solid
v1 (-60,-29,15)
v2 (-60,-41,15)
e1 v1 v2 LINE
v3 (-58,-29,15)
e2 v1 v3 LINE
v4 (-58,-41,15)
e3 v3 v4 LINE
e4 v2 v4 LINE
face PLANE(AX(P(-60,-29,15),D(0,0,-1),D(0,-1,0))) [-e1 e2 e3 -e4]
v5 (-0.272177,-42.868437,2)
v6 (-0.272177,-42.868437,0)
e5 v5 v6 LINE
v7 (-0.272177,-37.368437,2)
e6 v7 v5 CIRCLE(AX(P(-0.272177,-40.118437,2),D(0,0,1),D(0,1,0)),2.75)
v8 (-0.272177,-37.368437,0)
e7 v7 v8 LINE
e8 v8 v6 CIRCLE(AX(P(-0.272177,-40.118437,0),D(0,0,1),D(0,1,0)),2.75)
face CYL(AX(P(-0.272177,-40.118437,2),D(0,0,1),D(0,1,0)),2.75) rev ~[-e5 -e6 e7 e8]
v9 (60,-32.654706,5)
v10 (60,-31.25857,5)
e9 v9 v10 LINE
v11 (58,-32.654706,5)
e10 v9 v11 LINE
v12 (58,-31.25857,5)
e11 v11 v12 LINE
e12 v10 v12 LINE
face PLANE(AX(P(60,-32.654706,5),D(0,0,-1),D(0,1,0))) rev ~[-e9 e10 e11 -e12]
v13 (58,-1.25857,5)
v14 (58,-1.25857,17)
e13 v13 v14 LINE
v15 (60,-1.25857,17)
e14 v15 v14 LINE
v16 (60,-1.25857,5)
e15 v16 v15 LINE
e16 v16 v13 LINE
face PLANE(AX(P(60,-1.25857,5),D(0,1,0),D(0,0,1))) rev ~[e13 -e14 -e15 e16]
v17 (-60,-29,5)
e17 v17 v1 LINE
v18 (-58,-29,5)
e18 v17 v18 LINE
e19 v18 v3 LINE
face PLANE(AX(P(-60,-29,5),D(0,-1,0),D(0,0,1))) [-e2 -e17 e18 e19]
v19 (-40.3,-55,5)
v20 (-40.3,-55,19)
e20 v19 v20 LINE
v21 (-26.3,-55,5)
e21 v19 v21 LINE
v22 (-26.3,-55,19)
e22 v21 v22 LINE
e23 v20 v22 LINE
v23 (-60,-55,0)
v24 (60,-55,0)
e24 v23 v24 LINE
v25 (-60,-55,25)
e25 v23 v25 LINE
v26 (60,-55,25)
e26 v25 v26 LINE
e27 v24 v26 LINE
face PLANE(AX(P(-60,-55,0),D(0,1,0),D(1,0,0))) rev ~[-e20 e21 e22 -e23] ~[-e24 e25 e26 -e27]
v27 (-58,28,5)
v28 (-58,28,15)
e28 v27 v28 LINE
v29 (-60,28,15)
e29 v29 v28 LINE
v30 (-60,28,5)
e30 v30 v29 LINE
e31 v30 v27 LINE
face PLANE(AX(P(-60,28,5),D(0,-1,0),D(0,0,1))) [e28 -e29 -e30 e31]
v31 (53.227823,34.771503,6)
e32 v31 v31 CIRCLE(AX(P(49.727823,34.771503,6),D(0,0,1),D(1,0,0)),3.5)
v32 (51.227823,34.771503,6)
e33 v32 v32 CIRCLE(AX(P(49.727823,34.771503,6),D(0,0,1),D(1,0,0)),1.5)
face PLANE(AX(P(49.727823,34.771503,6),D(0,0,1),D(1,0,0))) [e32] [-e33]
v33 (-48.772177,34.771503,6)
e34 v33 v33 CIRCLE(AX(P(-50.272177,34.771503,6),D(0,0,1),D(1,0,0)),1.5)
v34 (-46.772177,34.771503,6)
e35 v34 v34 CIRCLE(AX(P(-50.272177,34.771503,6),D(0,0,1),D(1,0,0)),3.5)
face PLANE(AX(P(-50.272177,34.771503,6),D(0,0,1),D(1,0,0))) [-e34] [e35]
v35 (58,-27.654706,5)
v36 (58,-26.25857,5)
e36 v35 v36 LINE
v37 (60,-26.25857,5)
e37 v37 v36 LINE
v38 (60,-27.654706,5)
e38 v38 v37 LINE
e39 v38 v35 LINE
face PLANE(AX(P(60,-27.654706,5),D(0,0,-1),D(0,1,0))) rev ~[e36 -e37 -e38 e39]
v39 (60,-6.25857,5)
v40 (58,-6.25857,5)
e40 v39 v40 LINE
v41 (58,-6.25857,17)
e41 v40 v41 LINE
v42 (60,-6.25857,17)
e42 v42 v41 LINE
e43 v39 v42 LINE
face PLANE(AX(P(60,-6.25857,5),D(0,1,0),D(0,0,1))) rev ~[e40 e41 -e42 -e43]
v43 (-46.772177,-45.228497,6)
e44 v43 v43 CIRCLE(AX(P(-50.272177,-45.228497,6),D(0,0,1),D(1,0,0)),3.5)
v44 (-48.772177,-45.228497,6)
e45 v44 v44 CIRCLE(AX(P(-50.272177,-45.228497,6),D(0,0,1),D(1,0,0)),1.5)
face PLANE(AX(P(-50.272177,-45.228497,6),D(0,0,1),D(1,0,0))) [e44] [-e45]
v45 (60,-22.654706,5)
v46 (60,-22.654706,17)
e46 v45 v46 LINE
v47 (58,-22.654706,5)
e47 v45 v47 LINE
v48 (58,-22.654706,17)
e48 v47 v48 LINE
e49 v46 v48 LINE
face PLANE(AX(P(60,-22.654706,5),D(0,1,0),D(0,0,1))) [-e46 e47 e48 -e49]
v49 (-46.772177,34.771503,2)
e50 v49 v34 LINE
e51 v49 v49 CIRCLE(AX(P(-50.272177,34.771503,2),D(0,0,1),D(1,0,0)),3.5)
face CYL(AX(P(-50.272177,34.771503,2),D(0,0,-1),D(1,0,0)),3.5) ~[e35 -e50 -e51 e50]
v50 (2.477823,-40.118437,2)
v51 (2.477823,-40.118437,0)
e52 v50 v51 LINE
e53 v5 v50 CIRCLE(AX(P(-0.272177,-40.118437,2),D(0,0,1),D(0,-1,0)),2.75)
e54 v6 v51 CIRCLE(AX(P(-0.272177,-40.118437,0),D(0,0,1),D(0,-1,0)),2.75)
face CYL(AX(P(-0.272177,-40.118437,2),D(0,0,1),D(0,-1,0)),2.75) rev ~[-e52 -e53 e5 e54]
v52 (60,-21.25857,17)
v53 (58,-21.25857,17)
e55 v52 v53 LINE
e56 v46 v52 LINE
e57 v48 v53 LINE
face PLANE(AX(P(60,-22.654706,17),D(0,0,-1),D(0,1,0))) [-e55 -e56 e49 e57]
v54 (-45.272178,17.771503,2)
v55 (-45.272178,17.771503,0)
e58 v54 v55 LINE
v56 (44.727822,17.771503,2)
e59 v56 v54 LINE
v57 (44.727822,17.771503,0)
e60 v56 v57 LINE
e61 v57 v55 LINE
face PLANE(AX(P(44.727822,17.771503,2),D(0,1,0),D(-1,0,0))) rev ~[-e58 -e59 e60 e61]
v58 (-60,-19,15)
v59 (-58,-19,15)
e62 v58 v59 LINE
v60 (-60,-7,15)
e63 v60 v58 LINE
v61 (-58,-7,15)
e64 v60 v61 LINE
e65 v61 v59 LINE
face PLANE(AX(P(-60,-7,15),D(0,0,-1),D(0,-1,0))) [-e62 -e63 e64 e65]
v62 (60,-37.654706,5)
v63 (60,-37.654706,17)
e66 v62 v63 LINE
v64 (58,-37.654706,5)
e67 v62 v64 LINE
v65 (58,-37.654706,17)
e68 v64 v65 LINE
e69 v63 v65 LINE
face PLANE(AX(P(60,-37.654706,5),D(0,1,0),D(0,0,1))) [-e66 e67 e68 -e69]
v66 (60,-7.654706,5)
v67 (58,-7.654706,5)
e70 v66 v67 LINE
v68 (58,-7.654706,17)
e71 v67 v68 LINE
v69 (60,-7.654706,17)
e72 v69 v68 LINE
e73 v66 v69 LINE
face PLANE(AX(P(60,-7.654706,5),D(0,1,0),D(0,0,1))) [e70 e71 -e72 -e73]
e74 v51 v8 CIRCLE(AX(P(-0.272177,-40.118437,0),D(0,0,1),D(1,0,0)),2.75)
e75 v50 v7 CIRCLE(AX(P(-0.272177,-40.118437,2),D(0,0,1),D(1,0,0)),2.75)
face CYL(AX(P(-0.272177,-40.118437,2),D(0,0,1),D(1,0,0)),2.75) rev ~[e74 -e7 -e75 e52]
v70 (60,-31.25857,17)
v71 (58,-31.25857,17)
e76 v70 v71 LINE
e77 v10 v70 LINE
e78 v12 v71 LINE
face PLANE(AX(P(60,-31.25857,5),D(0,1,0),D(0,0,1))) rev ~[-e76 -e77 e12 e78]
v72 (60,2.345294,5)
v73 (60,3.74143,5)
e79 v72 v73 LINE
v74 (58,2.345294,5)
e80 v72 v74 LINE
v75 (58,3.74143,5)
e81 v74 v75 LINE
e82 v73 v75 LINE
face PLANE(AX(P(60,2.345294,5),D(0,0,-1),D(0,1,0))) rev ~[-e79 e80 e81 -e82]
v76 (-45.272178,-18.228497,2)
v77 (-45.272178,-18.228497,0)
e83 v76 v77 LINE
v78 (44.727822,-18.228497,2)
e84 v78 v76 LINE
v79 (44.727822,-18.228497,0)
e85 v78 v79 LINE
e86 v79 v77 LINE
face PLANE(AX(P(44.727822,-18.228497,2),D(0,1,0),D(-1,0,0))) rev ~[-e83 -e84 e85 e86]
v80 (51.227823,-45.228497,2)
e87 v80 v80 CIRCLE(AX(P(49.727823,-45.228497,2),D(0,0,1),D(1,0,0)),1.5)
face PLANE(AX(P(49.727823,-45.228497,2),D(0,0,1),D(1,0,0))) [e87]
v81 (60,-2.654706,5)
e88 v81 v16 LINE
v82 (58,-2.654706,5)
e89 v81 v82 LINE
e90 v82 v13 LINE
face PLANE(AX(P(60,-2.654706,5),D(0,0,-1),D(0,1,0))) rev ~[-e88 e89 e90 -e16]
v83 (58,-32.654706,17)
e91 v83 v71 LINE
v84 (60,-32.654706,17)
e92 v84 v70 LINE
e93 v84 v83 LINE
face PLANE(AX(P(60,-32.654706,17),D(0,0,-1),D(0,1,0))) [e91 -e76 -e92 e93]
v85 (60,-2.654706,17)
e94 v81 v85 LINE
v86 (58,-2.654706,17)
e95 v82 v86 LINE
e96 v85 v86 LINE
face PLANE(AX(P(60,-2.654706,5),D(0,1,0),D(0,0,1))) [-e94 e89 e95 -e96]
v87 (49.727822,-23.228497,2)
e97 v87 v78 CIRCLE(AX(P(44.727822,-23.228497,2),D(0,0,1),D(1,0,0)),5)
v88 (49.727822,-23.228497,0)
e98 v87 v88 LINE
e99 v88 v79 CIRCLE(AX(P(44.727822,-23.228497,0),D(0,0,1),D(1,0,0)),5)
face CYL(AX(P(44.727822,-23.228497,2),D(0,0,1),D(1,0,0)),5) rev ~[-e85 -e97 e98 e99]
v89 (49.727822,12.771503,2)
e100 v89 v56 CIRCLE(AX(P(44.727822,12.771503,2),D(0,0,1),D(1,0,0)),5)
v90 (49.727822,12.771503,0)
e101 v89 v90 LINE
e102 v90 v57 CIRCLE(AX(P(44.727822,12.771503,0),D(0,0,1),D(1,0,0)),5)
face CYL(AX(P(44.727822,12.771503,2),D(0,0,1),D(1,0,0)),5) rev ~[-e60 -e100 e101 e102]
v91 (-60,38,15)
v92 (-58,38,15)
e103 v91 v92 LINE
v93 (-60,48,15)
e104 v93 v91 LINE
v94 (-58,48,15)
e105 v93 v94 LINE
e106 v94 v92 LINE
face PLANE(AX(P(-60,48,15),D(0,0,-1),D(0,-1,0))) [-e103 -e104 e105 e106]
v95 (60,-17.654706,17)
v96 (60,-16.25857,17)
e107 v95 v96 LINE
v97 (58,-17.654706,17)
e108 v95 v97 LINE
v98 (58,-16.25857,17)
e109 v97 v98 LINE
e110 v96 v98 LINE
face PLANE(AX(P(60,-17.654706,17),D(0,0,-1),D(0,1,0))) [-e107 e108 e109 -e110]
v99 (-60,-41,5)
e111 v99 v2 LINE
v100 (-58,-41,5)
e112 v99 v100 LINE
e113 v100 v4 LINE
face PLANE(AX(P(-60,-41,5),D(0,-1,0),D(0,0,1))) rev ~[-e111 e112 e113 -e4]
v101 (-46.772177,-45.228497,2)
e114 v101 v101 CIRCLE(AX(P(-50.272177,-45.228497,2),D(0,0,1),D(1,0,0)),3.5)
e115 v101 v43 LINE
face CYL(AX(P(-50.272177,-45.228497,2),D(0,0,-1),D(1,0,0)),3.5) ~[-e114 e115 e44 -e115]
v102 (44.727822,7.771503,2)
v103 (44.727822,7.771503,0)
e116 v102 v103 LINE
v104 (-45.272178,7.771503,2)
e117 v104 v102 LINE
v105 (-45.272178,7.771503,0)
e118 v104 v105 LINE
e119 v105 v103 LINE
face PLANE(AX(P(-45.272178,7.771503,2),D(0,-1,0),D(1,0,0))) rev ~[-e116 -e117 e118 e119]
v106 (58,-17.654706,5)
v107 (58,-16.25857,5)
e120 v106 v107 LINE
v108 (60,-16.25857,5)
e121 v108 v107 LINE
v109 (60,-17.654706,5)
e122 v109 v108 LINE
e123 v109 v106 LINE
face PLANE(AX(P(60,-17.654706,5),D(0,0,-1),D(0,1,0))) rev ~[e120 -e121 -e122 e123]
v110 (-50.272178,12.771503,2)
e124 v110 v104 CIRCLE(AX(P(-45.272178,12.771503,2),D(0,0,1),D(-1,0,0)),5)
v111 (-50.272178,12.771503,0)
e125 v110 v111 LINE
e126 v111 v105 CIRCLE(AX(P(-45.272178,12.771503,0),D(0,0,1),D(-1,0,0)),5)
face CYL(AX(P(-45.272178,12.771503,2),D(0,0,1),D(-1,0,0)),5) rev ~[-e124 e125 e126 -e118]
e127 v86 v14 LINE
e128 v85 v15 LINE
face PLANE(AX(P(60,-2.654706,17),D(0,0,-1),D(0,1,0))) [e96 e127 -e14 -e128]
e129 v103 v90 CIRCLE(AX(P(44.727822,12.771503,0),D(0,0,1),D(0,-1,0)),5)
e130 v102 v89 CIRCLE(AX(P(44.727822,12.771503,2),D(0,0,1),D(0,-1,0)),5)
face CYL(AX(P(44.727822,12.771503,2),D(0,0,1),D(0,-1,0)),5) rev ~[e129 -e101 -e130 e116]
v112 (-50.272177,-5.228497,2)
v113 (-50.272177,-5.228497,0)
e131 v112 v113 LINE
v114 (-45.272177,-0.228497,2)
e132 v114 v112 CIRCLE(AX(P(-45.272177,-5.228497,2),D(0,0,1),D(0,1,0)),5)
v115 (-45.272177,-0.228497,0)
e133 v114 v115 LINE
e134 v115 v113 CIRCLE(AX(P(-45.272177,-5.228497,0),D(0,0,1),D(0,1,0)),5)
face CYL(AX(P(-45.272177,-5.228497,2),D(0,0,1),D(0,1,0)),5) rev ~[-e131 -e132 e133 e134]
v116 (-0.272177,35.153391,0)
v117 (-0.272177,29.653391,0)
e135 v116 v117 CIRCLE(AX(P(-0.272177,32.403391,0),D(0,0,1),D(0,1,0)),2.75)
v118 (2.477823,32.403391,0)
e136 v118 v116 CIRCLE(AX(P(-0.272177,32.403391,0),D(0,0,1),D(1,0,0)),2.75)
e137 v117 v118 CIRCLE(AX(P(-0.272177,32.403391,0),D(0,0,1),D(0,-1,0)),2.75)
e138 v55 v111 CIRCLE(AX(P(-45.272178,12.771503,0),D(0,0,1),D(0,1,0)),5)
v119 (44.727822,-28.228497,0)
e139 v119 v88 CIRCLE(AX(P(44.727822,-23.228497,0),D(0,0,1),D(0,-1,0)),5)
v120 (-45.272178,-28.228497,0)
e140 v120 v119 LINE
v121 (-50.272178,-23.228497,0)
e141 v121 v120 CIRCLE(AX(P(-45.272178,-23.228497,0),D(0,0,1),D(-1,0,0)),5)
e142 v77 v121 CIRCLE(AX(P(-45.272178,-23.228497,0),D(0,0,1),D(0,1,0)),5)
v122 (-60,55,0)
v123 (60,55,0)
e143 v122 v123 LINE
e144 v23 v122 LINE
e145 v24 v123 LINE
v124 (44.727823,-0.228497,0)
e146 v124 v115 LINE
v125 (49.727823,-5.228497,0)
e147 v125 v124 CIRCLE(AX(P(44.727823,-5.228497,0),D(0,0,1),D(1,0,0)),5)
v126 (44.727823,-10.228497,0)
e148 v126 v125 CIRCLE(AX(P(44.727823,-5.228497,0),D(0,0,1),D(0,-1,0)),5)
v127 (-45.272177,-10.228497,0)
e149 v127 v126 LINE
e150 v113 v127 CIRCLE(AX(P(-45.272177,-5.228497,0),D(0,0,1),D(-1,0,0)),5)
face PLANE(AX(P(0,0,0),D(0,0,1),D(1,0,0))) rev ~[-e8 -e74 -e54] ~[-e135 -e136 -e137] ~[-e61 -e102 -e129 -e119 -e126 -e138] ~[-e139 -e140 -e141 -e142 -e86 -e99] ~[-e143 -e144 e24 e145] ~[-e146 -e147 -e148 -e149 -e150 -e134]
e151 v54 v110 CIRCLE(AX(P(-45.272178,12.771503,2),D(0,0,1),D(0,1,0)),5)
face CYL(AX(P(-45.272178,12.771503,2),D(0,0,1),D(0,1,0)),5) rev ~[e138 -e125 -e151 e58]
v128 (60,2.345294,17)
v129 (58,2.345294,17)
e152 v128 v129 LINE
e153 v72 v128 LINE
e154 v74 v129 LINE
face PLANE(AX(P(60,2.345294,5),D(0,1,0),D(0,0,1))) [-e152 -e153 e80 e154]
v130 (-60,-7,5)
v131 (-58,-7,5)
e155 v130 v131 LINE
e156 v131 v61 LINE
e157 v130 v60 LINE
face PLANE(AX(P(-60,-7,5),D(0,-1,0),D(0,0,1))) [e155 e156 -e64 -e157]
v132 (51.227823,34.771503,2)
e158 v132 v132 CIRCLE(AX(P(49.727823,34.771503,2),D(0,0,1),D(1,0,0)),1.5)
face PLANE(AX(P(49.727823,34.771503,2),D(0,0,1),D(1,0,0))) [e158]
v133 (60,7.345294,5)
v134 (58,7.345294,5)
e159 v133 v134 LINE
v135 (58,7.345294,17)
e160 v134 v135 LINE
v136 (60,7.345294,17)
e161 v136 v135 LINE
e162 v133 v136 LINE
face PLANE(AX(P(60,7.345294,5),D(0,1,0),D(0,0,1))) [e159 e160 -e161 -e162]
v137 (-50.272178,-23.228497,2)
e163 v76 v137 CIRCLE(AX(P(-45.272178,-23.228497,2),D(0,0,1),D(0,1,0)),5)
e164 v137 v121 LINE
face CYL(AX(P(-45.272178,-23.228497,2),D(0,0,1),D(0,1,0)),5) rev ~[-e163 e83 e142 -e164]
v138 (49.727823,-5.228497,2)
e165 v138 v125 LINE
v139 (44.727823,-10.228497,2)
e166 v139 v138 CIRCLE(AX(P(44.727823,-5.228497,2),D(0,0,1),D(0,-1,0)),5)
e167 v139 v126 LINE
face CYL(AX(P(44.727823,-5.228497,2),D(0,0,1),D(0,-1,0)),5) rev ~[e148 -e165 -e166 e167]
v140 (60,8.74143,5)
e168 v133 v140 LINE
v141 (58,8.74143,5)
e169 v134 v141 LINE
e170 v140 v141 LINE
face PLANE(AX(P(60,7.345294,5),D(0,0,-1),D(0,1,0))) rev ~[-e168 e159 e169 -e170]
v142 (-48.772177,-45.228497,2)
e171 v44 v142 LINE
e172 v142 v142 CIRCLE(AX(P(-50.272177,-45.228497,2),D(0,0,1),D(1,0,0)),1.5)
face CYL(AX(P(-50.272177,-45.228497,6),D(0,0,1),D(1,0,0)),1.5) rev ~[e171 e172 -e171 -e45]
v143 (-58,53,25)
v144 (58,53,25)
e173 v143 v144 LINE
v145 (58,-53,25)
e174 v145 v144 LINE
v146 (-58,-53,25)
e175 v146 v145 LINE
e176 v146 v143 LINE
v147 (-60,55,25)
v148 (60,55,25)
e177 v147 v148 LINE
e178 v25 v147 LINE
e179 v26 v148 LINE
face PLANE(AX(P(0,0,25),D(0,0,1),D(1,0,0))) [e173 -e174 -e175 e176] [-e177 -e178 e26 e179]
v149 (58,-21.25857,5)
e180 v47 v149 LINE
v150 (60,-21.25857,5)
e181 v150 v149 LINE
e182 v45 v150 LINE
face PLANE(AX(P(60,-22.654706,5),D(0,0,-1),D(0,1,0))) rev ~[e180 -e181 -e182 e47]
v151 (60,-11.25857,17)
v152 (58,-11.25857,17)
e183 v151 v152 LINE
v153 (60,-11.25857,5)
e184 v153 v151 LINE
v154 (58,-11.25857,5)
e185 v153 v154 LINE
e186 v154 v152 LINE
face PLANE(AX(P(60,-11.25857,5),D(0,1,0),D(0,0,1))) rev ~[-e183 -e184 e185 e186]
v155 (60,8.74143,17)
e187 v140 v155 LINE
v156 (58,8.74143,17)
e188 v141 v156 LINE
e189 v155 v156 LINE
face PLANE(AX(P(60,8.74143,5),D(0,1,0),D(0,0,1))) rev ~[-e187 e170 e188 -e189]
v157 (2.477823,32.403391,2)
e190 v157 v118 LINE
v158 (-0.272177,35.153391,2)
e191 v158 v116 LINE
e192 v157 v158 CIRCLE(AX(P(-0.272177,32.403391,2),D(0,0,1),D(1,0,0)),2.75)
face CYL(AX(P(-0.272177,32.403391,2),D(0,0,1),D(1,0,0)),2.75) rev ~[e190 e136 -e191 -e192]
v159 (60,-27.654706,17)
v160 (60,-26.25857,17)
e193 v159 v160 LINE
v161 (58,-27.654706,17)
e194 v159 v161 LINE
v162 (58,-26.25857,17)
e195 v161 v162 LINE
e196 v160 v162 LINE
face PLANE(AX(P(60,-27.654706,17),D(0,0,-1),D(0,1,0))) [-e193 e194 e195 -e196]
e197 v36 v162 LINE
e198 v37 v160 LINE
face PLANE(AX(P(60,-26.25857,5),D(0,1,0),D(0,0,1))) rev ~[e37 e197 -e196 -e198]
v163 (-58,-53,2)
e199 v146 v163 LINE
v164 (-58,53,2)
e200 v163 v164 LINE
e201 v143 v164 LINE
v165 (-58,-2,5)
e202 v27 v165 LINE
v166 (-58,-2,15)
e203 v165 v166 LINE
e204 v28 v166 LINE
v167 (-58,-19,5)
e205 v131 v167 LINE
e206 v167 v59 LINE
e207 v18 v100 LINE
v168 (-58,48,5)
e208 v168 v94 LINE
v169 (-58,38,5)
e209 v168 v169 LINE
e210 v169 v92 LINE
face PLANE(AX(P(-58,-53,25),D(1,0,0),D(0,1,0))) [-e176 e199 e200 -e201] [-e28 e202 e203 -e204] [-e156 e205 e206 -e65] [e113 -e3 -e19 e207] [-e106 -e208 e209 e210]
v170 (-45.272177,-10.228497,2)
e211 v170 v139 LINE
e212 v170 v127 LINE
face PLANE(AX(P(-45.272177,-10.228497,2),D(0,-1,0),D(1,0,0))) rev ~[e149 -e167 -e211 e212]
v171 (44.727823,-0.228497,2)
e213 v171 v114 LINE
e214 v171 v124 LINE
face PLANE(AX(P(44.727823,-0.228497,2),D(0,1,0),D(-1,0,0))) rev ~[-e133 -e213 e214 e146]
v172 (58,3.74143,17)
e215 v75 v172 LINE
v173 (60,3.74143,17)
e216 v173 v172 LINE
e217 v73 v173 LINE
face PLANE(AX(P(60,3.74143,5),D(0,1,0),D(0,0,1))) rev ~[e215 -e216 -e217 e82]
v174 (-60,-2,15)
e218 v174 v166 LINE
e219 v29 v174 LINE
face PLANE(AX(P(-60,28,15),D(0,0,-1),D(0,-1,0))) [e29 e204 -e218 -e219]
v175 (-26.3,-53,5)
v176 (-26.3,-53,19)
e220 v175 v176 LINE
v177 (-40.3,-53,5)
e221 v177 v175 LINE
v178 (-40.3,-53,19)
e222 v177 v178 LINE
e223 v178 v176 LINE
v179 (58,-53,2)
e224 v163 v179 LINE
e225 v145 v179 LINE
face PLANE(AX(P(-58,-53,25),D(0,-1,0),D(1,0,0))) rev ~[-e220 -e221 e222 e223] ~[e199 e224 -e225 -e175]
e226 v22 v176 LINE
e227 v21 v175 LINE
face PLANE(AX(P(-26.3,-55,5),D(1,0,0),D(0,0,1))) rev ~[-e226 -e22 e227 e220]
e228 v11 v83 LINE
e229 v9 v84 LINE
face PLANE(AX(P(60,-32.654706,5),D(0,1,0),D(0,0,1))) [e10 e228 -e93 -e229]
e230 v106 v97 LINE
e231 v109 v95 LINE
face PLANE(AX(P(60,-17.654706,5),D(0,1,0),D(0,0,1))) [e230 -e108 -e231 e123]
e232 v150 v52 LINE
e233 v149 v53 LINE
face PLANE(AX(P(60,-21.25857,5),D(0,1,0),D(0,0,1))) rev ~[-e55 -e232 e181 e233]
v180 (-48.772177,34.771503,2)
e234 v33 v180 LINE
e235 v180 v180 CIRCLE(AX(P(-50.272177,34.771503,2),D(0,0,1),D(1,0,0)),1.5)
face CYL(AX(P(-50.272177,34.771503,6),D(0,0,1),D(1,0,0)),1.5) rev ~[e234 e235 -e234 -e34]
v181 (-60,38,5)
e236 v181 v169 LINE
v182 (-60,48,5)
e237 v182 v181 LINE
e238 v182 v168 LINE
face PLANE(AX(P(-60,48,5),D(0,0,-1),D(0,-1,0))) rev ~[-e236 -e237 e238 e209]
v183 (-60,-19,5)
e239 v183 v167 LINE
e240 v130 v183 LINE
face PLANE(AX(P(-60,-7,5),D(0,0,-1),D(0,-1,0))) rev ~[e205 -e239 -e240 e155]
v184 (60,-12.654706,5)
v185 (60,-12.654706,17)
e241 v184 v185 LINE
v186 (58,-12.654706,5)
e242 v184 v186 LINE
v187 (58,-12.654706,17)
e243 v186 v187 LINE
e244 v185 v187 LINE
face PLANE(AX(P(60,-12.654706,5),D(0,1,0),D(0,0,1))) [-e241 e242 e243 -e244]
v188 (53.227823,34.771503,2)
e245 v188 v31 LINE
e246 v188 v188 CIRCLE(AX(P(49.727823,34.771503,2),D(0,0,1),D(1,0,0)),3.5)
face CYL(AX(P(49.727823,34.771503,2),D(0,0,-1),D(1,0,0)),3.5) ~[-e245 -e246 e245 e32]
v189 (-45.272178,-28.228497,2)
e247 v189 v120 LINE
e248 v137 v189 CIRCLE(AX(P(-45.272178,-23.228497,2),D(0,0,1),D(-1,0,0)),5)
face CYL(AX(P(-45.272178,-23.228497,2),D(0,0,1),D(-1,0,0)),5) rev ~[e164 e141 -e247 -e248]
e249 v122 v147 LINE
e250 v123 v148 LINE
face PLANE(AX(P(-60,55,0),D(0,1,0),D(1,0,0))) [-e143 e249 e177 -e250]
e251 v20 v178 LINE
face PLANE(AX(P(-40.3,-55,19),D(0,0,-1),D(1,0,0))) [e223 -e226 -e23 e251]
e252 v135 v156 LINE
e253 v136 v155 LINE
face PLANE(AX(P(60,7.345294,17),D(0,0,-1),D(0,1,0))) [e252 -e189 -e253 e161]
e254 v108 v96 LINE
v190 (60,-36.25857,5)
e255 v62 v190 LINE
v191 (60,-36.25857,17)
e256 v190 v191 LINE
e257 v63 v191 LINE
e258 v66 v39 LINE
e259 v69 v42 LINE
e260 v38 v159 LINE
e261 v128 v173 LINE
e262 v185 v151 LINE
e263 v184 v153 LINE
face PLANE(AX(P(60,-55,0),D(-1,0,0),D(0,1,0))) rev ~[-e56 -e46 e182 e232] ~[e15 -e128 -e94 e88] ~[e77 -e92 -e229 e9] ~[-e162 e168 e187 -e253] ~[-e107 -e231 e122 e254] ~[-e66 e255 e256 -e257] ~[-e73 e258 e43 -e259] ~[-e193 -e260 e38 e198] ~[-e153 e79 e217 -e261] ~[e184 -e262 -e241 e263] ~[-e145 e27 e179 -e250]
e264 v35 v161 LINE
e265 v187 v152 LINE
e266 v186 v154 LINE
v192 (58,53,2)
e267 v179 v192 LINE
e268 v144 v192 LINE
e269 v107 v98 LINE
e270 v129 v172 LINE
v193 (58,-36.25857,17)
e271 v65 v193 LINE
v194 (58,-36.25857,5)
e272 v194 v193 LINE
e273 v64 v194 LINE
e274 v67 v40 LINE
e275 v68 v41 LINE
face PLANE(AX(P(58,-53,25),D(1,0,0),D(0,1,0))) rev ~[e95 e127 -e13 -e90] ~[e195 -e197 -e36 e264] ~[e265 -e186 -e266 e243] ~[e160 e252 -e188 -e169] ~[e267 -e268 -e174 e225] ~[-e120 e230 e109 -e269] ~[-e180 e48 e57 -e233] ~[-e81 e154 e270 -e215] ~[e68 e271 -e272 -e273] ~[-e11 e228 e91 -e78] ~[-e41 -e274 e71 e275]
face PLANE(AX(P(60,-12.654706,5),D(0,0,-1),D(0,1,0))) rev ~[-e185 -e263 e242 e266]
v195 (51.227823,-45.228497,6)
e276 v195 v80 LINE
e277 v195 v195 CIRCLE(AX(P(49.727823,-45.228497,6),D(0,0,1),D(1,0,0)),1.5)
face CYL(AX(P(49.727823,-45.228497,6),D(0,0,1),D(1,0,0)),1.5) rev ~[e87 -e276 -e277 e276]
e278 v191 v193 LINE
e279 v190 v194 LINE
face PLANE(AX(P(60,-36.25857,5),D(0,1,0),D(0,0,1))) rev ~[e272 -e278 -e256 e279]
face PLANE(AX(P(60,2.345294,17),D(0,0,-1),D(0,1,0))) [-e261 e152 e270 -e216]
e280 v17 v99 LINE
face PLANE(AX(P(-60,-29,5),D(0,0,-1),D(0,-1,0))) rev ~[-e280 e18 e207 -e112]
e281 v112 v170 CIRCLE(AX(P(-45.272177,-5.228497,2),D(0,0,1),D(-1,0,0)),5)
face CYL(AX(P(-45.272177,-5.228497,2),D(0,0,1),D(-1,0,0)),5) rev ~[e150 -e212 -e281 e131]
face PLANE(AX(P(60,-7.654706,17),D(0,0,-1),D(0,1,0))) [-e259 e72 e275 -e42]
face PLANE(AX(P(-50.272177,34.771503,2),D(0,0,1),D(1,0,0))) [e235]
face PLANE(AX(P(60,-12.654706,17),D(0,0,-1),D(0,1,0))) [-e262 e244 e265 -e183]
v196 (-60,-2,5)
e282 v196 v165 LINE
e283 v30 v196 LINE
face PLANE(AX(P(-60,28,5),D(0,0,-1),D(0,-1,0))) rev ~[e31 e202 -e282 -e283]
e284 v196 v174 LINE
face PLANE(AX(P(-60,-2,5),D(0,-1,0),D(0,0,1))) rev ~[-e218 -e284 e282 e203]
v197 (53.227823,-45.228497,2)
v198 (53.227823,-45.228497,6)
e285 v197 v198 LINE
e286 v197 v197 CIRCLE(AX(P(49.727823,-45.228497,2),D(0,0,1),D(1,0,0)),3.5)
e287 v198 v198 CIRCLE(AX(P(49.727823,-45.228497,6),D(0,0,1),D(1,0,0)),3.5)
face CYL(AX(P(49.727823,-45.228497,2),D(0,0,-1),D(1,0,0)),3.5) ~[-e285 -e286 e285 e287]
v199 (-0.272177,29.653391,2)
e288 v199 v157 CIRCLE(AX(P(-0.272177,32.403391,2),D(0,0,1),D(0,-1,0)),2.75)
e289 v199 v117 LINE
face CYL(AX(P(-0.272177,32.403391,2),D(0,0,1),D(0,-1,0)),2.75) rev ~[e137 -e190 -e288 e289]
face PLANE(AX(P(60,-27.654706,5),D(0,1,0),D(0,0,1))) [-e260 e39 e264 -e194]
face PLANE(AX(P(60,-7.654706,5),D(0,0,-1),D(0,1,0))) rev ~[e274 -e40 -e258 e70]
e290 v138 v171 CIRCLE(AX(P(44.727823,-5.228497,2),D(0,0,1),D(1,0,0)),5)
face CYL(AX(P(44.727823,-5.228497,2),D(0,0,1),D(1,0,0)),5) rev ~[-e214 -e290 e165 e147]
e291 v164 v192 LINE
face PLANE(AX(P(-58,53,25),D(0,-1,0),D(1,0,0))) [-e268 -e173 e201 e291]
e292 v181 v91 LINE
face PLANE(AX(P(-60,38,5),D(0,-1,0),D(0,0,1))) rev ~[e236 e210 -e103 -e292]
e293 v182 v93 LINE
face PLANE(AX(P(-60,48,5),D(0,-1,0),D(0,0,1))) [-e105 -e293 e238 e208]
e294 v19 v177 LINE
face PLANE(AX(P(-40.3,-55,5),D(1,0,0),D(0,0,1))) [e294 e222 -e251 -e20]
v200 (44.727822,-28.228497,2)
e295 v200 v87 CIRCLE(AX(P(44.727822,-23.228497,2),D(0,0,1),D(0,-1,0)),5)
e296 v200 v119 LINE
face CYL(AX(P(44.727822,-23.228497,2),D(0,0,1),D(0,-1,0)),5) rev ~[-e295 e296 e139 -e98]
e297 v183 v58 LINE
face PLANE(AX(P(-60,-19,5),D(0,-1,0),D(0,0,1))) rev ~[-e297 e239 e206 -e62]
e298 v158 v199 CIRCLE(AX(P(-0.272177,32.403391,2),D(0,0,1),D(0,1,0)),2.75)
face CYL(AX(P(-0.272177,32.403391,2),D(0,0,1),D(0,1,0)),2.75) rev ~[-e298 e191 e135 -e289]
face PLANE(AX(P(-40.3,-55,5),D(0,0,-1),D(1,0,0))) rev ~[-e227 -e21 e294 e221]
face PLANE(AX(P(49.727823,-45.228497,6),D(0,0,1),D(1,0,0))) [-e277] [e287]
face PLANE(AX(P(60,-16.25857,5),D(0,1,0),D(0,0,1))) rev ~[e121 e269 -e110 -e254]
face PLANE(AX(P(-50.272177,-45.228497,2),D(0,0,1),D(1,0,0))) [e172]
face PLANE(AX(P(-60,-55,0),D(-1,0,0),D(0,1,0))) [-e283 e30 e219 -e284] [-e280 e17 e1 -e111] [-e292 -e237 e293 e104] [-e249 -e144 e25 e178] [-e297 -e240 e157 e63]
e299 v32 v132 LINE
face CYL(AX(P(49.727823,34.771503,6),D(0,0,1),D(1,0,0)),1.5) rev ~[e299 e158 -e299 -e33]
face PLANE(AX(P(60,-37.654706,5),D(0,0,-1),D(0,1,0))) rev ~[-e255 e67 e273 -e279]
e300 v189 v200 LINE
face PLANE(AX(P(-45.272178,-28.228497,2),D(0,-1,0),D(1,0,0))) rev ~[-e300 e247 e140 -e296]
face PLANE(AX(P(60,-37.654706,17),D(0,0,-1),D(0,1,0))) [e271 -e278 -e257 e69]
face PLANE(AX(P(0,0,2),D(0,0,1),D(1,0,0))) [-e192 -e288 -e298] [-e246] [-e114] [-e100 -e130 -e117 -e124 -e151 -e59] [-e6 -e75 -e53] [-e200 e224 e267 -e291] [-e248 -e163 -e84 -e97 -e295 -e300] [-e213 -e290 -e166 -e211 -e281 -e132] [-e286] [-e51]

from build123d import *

# Parameters (mm, degrees)
F0_W      = 120
F0_H      = 110
F1_DEPTH  = 25
F2_W      = 116
F2_H      = 106
F3_DEPTH  = 23
F4_R      = 3.5
F5_DEPTH  = 4
F6_R      = 1.5
F7_DEPTH  = 4
F8_R      = 1.5
F9_DEPTH  = 4
F10_R     = 1.5
F11_DEPTH = 4
F12_R     = 1.5
F13_DEPTH = 4
F14_W     = 14
F14_H     = 14
F15_DEPTH = 5
F16_W     = 12
F16_H     = 10
F16_W_2   = 30
F16_W_3   = 10
F17_DEPTH = 2
F18_DEPTH = 25
F19_DEPTH = 25
F20_DEPTH = 25
F21_DEPTH = 25
F22_W     = 1.3961357757
F22_H     = 12
F23_DEPTH = 25


with BuildPart() as f1:
    # F0 (on Top) → F1 (new body)
    with BuildSketch(Plane.XY):
        Rectangle(F0_W, F0_H)
    extrude(amount=F1_DEPTH)

    # F2 (on face) → F3 (cut)
    with BuildSketch(Plane.XY.offset(25)):
        Rectangle(F2_W, F2_H)
    extrude(amount=-F3_DEPTH, mode=Mode.SUBTRACT)

    # F4 (on face) → F5 (join)
    with BuildSketch(Plane.XY.offset(2)):
        with Locations((-50.2721771598, 34.7715031275)):
            Circle(F4_R)
        with Locations((49.7278228402, 34.7715031275)):
            Circle(F4_R)
        with Locations((49.7278228402, -45.2284968725)):
            Circle(F4_R)
        with Locations((-50.2721771598, -45.2284968725)):
            Circle(F4_R)
    extrude(amount=F5_DEPTH)

    # F6 (on face) → F7 (cut)
    with BuildSketch(Plane.XY.offset(6)):
        with Locations((-50.2721771598, 34.7715031275)):
            Circle(F6_R)
    extrude(amount=-F7_DEPTH, mode=Mode.SUBTRACT)

    # F8 (on face) → F9 (cut)
    with BuildSketch(Plane.XY.offset(6)):
        with Locations((49.7278228402, 34.7715031275)):
            Circle(F8_R)
    extrude(amount=-F9_DEPTH, mode=Mode.SUBTRACT)

    # F10 (on face) → F11 (cut)
    with BuildSketch(Plane.XY.offset(6)):
        with Locations((49.7278228402, -45.2284968725)):
            Circle(F10_R)
    extrude(amount=-F11_DEPTH, mode=Mode.SUBTRACT)

    # F12 (on face) → F13 (cut)
    with BuildSketch(Plane.XY.offset(6)):
        with Locations((-50.2721771598, -45.2284968725)):
            Circle(F12_R)
    extrude(amount=-F13_DEPTH, mode=Mode.SUBTRACT)

    # F14 (on face) → F15 (cut)
    with BuildSketch(Plane.XZ.offset(55)):
        with Locations((-33.3, 12)):
            Rectangle(F14_W, F14_H)
    extrude(amount=-F15_DEPTH, mode=Mode.SUBTRACT)

    # F16 (on face) → F17 (cut)
    with BuildSketch(Plane(origin=(-60, 0, 0), x_dir=(0, -1, 0), z_dir=(-1, 0, 0))):
        with Locations((35, 10)):
            Rectangle(F16_W, F16_H)
        with Locations((13, 10)):
            Rectangle(F16_W, F16_H)
        with Locations((-13, 10)):
            Rectangle(F16_W_2, F16_H)
        with Locations((-43, 10)):
            Rectangle(F16_W_3, F16_H)
    extrude(amount=-F17_DEPTH, mode=Mode.SUBTRACT)

    # F4 (on face) → F18 (cut)
    with BuildSketch(Plane.XY.offset(2)):
        with BuildLine():
            Line((-45.2721779048, 7.7715031275), (-0.2721771598, 7.7715031275))
            Line((-0.2721771598, 7.7715031275), (-0.2721771598, 17.7715031275))
            Line((-0.2721771598, 17.7715031275), (-45.2721779048, 17.7715031275))
            ThreePointArc((-45.2721779048, 17.7715031275), (-48.8077118108, 16.3070370335), (-50.2721779048, 12.7715031275))
            ThreePointArc((-50.2721779048, 12.7715031275), (-48.8077118108, 9.2359692216), (-45.2721779048, 7.7715031275))
        make_face()
        with BuildLine():
            Line((-0.2721771598, 17.7715031275), (-0.2721771598, 7.7715031275))
            Line((-0.2721771598, 7.7715031275), (44.7278220952, 7.7715031275))
            ThreePointArc((44.7278220952, 7.7715031275), (48.2633560011, 9.2359692216), (49.7278220952, 12.7715031275))
            ThreePointArc((49.7278220952, 12.7715031275), (48.2633560011, 16.3070370335), (44.7278220952, 17.7715031275))
            Line((44.7278220952, 17.7715031275), (-0.2721771598, 17.7715031275))
        make_face()
    extrude(amount=-F18_DEPTH, mode=Mode.SUBTRACT)

    # F4 (on face) → F19 (cut)
    with BuildSketch(Plane.XY.offset(2)):
        with BuildLine():
            Line((-0.2721771598, -18.2284968725), (-0.2721771598, -28.2284968725))
            Line((-0.2721771598, -28.2284968725), (44.7278220952, -28.2284968725))
            ThreePointArc((44.7278220952, -28.2284968725), (48.2633560011, -26.7640307784), (49.7278220952, -23.2284968725))
            ThreePointArc((49.7278220952, -23.2284968725), (48.2633560011, -19.6929629665), (44.7278220952, -18.2284968725))
            Line((44.7278220952, -18.2284968725), (-0.2721771598, -18.2284968725))
        make_face()
        with BuildLine():
            Line((49.7278228402, -5.2284968725), (-0.2721771598, -5.2284968725))
            Line((-0.2721771598, -5.2284968725), (-0.2721771598, -10.2284968725))
            Line((-0.2721771598, -10.2284968725), (44.7278228402, -10.2284968725))
            ThreePointArc((44.7278228402, -10.2284968725), (48.2633567461, -8.7640307784), (49.7278228402, -5.2284968725))
        make_face()
        with BuildLine():
            ThreePointArc((-45.2721771598, -0.2284968725), (-48.8077110657, -1.6929629665), (-50.2721771598, -5.2284968725))
            Line((-50.2721771598, -5.2284968725), (-0.2721771598, -5.2284968725))
            Line((-0.2721771598, -5.2284968725), (-0.2721771598, -0.2284968725))
            Line((-0.2721771598, -0.2284968725), (-45.2721771598, -0.2284968725))
        make_face()
        with BuildLine():
            Line((-0.2721771598, -5.2284968725), (-50.2721771598, -5.2284968725))
            ThreePointArc((-50.2721771598, -5.2284968725), (-48.8077110657, -8.7640307784), (-45.2721771598, -10.2284968725))
            Line((-45.2721771598, -10.2284968725), (-0.2721771598, -10.2284968725))
            Line((-0.2721771598, -10.2284968725), (-0.2721771598, -5.2284968725))
        make_face()
        with BuildLine():
            Line((-45.2721779048, -28.2284968725), (-0.2721771598, -28.2284968725))
            Line((-0.2721771598, -28.2284968725), (-0.2721771598, -18.2284968725))
            Line((-0.2721771598, -18.2284968725), (-45.2721779048, -18.2284968725))
            ThreePointArc((-45.2721779048, -18.2284968725), (-48.8077118108, -19.6929629665), (-50.2721779048, -23.2284968725))
            ThreePointArc((-50.2721779048, -23.2284968725), (-48.8077118108, -26.7640307784), (-45.2721779048, -28.2284968725))
        make_face()
        with BuildLine():
            Line((-0.2721771598, -0.2284968725), (-0.2721771598, -5.2284968725))
            Line((-0.2721771598, -5.2284968725), (49.7278228402, -5.2284968725))
            ThreePointArc((49.7278228402, -5.2284968725), (48.2633567461, -1.6929629665), (44.7278228402, -0.2284968725))
            Line((44.7278228402, -0.2284968725), (-0.2721771598, -0.2284968725))
        make_face()
    extrude(amount=-F19_DEPTH, mode=Mode.SUBTRACT)

    # F4 (on face) → F20 (cut)
    with BuildSketch(Plane.XY.offset(2)):
        with BuildLine():
            ThreePointArc((2.4778228402, 32.4033908546), (1.6723664885, 34.3479345029), (-0.2721771598, 35.1533908546))
            Line((-0.2721771598, 35.1533908546), (-0.2721771598, 29.6533908546))
            ThreePointArc((-0.2721771598, 29.6533908546), (1.6723664885, 30.4588472063), (2.4778228402, 32.4033908546))
        make_face()
        with BuildLine():
            Line((-0.2721771598, 29.6533908546), (-0.2721771598, 35.1533908546))
            ThreePointArc((-0.2721771598, 35.1533908546), (-3.0221771598, 32.4033908546), (-0.2721771598, 29.6533908546))
        make_face()
    extrude(amount=-F20_DEPTH, mode=Mode.SUBTRACT)

    # F4 (on face) → F21 (cut)
    with BuildSketch(Plane.XY.offset(2)):
        with BuildLine():
            Line((-0.2721771598, -37.3684372604), (-0.2721771598, -42.8684372604))
            ThreePointArc((-0.2721771598, -42.8684372604), (1.6723664885, -42.0629809087), (2.4778228402, -40.1184372604))
            ThreePointArc((2.4778228402, -40.1184372604), (1.6723664885, -38.1738936121), (-0.2721771598, -37.3684372604))
        make_face()
        with BuildLine():
            ThreePointArc((-0.2721771598, -37.3684372604), (-3.0221771598, -40.1184372604), (-0.2721771598, -42.8684372604))
            Line((-0.2721771598, -42.8684372604), (-0.2721771598, -37.3684372604))
        make_face()
    extrude(amount=-F21_DEPTH, mode=Mode.SUBTRACT)

    # F22 (on face) → F23 (cut)
    with BuildSketch(Plane.YZ.offset(60)):
        with Locations((8.0433619022, 11)):
            Rectangle(F22_W, F22_H)
        with Locations((3.0433619022, 11)):
            Rectangle(F22_W, F22_H)
        with Locations((-1.9566380978, 11)):
            Rectangle(F22_W, F22_H)
        with Locations((-6.9566380978, 11)):
            Rectangle(F22_W, F22_H)
        with Locations((-11.9566380978, 11)):
            Rectangle(F22_W, F22_H)
        with Locations((-16.9566380978, 11)):
            Rectangle(F22_W, F22_H)
        with Locations((-21.9566380978, 11)):
            Rectangle(F22_W, F22_H)
        with Locations((-26.9566380978, 11)):
            Rectangle(F22_W, F22_H)
        with Locations((-31.9566380978, 11)):
            Rectangle(F22_W, F22_H)
        with Locations((-36.9566380978, 11)):
            Rectangle(F22_W, F22_H)
    extrude(amount=-F23_DEPTH, mode=Mode.SUBTRACT)


solid = f1.part
